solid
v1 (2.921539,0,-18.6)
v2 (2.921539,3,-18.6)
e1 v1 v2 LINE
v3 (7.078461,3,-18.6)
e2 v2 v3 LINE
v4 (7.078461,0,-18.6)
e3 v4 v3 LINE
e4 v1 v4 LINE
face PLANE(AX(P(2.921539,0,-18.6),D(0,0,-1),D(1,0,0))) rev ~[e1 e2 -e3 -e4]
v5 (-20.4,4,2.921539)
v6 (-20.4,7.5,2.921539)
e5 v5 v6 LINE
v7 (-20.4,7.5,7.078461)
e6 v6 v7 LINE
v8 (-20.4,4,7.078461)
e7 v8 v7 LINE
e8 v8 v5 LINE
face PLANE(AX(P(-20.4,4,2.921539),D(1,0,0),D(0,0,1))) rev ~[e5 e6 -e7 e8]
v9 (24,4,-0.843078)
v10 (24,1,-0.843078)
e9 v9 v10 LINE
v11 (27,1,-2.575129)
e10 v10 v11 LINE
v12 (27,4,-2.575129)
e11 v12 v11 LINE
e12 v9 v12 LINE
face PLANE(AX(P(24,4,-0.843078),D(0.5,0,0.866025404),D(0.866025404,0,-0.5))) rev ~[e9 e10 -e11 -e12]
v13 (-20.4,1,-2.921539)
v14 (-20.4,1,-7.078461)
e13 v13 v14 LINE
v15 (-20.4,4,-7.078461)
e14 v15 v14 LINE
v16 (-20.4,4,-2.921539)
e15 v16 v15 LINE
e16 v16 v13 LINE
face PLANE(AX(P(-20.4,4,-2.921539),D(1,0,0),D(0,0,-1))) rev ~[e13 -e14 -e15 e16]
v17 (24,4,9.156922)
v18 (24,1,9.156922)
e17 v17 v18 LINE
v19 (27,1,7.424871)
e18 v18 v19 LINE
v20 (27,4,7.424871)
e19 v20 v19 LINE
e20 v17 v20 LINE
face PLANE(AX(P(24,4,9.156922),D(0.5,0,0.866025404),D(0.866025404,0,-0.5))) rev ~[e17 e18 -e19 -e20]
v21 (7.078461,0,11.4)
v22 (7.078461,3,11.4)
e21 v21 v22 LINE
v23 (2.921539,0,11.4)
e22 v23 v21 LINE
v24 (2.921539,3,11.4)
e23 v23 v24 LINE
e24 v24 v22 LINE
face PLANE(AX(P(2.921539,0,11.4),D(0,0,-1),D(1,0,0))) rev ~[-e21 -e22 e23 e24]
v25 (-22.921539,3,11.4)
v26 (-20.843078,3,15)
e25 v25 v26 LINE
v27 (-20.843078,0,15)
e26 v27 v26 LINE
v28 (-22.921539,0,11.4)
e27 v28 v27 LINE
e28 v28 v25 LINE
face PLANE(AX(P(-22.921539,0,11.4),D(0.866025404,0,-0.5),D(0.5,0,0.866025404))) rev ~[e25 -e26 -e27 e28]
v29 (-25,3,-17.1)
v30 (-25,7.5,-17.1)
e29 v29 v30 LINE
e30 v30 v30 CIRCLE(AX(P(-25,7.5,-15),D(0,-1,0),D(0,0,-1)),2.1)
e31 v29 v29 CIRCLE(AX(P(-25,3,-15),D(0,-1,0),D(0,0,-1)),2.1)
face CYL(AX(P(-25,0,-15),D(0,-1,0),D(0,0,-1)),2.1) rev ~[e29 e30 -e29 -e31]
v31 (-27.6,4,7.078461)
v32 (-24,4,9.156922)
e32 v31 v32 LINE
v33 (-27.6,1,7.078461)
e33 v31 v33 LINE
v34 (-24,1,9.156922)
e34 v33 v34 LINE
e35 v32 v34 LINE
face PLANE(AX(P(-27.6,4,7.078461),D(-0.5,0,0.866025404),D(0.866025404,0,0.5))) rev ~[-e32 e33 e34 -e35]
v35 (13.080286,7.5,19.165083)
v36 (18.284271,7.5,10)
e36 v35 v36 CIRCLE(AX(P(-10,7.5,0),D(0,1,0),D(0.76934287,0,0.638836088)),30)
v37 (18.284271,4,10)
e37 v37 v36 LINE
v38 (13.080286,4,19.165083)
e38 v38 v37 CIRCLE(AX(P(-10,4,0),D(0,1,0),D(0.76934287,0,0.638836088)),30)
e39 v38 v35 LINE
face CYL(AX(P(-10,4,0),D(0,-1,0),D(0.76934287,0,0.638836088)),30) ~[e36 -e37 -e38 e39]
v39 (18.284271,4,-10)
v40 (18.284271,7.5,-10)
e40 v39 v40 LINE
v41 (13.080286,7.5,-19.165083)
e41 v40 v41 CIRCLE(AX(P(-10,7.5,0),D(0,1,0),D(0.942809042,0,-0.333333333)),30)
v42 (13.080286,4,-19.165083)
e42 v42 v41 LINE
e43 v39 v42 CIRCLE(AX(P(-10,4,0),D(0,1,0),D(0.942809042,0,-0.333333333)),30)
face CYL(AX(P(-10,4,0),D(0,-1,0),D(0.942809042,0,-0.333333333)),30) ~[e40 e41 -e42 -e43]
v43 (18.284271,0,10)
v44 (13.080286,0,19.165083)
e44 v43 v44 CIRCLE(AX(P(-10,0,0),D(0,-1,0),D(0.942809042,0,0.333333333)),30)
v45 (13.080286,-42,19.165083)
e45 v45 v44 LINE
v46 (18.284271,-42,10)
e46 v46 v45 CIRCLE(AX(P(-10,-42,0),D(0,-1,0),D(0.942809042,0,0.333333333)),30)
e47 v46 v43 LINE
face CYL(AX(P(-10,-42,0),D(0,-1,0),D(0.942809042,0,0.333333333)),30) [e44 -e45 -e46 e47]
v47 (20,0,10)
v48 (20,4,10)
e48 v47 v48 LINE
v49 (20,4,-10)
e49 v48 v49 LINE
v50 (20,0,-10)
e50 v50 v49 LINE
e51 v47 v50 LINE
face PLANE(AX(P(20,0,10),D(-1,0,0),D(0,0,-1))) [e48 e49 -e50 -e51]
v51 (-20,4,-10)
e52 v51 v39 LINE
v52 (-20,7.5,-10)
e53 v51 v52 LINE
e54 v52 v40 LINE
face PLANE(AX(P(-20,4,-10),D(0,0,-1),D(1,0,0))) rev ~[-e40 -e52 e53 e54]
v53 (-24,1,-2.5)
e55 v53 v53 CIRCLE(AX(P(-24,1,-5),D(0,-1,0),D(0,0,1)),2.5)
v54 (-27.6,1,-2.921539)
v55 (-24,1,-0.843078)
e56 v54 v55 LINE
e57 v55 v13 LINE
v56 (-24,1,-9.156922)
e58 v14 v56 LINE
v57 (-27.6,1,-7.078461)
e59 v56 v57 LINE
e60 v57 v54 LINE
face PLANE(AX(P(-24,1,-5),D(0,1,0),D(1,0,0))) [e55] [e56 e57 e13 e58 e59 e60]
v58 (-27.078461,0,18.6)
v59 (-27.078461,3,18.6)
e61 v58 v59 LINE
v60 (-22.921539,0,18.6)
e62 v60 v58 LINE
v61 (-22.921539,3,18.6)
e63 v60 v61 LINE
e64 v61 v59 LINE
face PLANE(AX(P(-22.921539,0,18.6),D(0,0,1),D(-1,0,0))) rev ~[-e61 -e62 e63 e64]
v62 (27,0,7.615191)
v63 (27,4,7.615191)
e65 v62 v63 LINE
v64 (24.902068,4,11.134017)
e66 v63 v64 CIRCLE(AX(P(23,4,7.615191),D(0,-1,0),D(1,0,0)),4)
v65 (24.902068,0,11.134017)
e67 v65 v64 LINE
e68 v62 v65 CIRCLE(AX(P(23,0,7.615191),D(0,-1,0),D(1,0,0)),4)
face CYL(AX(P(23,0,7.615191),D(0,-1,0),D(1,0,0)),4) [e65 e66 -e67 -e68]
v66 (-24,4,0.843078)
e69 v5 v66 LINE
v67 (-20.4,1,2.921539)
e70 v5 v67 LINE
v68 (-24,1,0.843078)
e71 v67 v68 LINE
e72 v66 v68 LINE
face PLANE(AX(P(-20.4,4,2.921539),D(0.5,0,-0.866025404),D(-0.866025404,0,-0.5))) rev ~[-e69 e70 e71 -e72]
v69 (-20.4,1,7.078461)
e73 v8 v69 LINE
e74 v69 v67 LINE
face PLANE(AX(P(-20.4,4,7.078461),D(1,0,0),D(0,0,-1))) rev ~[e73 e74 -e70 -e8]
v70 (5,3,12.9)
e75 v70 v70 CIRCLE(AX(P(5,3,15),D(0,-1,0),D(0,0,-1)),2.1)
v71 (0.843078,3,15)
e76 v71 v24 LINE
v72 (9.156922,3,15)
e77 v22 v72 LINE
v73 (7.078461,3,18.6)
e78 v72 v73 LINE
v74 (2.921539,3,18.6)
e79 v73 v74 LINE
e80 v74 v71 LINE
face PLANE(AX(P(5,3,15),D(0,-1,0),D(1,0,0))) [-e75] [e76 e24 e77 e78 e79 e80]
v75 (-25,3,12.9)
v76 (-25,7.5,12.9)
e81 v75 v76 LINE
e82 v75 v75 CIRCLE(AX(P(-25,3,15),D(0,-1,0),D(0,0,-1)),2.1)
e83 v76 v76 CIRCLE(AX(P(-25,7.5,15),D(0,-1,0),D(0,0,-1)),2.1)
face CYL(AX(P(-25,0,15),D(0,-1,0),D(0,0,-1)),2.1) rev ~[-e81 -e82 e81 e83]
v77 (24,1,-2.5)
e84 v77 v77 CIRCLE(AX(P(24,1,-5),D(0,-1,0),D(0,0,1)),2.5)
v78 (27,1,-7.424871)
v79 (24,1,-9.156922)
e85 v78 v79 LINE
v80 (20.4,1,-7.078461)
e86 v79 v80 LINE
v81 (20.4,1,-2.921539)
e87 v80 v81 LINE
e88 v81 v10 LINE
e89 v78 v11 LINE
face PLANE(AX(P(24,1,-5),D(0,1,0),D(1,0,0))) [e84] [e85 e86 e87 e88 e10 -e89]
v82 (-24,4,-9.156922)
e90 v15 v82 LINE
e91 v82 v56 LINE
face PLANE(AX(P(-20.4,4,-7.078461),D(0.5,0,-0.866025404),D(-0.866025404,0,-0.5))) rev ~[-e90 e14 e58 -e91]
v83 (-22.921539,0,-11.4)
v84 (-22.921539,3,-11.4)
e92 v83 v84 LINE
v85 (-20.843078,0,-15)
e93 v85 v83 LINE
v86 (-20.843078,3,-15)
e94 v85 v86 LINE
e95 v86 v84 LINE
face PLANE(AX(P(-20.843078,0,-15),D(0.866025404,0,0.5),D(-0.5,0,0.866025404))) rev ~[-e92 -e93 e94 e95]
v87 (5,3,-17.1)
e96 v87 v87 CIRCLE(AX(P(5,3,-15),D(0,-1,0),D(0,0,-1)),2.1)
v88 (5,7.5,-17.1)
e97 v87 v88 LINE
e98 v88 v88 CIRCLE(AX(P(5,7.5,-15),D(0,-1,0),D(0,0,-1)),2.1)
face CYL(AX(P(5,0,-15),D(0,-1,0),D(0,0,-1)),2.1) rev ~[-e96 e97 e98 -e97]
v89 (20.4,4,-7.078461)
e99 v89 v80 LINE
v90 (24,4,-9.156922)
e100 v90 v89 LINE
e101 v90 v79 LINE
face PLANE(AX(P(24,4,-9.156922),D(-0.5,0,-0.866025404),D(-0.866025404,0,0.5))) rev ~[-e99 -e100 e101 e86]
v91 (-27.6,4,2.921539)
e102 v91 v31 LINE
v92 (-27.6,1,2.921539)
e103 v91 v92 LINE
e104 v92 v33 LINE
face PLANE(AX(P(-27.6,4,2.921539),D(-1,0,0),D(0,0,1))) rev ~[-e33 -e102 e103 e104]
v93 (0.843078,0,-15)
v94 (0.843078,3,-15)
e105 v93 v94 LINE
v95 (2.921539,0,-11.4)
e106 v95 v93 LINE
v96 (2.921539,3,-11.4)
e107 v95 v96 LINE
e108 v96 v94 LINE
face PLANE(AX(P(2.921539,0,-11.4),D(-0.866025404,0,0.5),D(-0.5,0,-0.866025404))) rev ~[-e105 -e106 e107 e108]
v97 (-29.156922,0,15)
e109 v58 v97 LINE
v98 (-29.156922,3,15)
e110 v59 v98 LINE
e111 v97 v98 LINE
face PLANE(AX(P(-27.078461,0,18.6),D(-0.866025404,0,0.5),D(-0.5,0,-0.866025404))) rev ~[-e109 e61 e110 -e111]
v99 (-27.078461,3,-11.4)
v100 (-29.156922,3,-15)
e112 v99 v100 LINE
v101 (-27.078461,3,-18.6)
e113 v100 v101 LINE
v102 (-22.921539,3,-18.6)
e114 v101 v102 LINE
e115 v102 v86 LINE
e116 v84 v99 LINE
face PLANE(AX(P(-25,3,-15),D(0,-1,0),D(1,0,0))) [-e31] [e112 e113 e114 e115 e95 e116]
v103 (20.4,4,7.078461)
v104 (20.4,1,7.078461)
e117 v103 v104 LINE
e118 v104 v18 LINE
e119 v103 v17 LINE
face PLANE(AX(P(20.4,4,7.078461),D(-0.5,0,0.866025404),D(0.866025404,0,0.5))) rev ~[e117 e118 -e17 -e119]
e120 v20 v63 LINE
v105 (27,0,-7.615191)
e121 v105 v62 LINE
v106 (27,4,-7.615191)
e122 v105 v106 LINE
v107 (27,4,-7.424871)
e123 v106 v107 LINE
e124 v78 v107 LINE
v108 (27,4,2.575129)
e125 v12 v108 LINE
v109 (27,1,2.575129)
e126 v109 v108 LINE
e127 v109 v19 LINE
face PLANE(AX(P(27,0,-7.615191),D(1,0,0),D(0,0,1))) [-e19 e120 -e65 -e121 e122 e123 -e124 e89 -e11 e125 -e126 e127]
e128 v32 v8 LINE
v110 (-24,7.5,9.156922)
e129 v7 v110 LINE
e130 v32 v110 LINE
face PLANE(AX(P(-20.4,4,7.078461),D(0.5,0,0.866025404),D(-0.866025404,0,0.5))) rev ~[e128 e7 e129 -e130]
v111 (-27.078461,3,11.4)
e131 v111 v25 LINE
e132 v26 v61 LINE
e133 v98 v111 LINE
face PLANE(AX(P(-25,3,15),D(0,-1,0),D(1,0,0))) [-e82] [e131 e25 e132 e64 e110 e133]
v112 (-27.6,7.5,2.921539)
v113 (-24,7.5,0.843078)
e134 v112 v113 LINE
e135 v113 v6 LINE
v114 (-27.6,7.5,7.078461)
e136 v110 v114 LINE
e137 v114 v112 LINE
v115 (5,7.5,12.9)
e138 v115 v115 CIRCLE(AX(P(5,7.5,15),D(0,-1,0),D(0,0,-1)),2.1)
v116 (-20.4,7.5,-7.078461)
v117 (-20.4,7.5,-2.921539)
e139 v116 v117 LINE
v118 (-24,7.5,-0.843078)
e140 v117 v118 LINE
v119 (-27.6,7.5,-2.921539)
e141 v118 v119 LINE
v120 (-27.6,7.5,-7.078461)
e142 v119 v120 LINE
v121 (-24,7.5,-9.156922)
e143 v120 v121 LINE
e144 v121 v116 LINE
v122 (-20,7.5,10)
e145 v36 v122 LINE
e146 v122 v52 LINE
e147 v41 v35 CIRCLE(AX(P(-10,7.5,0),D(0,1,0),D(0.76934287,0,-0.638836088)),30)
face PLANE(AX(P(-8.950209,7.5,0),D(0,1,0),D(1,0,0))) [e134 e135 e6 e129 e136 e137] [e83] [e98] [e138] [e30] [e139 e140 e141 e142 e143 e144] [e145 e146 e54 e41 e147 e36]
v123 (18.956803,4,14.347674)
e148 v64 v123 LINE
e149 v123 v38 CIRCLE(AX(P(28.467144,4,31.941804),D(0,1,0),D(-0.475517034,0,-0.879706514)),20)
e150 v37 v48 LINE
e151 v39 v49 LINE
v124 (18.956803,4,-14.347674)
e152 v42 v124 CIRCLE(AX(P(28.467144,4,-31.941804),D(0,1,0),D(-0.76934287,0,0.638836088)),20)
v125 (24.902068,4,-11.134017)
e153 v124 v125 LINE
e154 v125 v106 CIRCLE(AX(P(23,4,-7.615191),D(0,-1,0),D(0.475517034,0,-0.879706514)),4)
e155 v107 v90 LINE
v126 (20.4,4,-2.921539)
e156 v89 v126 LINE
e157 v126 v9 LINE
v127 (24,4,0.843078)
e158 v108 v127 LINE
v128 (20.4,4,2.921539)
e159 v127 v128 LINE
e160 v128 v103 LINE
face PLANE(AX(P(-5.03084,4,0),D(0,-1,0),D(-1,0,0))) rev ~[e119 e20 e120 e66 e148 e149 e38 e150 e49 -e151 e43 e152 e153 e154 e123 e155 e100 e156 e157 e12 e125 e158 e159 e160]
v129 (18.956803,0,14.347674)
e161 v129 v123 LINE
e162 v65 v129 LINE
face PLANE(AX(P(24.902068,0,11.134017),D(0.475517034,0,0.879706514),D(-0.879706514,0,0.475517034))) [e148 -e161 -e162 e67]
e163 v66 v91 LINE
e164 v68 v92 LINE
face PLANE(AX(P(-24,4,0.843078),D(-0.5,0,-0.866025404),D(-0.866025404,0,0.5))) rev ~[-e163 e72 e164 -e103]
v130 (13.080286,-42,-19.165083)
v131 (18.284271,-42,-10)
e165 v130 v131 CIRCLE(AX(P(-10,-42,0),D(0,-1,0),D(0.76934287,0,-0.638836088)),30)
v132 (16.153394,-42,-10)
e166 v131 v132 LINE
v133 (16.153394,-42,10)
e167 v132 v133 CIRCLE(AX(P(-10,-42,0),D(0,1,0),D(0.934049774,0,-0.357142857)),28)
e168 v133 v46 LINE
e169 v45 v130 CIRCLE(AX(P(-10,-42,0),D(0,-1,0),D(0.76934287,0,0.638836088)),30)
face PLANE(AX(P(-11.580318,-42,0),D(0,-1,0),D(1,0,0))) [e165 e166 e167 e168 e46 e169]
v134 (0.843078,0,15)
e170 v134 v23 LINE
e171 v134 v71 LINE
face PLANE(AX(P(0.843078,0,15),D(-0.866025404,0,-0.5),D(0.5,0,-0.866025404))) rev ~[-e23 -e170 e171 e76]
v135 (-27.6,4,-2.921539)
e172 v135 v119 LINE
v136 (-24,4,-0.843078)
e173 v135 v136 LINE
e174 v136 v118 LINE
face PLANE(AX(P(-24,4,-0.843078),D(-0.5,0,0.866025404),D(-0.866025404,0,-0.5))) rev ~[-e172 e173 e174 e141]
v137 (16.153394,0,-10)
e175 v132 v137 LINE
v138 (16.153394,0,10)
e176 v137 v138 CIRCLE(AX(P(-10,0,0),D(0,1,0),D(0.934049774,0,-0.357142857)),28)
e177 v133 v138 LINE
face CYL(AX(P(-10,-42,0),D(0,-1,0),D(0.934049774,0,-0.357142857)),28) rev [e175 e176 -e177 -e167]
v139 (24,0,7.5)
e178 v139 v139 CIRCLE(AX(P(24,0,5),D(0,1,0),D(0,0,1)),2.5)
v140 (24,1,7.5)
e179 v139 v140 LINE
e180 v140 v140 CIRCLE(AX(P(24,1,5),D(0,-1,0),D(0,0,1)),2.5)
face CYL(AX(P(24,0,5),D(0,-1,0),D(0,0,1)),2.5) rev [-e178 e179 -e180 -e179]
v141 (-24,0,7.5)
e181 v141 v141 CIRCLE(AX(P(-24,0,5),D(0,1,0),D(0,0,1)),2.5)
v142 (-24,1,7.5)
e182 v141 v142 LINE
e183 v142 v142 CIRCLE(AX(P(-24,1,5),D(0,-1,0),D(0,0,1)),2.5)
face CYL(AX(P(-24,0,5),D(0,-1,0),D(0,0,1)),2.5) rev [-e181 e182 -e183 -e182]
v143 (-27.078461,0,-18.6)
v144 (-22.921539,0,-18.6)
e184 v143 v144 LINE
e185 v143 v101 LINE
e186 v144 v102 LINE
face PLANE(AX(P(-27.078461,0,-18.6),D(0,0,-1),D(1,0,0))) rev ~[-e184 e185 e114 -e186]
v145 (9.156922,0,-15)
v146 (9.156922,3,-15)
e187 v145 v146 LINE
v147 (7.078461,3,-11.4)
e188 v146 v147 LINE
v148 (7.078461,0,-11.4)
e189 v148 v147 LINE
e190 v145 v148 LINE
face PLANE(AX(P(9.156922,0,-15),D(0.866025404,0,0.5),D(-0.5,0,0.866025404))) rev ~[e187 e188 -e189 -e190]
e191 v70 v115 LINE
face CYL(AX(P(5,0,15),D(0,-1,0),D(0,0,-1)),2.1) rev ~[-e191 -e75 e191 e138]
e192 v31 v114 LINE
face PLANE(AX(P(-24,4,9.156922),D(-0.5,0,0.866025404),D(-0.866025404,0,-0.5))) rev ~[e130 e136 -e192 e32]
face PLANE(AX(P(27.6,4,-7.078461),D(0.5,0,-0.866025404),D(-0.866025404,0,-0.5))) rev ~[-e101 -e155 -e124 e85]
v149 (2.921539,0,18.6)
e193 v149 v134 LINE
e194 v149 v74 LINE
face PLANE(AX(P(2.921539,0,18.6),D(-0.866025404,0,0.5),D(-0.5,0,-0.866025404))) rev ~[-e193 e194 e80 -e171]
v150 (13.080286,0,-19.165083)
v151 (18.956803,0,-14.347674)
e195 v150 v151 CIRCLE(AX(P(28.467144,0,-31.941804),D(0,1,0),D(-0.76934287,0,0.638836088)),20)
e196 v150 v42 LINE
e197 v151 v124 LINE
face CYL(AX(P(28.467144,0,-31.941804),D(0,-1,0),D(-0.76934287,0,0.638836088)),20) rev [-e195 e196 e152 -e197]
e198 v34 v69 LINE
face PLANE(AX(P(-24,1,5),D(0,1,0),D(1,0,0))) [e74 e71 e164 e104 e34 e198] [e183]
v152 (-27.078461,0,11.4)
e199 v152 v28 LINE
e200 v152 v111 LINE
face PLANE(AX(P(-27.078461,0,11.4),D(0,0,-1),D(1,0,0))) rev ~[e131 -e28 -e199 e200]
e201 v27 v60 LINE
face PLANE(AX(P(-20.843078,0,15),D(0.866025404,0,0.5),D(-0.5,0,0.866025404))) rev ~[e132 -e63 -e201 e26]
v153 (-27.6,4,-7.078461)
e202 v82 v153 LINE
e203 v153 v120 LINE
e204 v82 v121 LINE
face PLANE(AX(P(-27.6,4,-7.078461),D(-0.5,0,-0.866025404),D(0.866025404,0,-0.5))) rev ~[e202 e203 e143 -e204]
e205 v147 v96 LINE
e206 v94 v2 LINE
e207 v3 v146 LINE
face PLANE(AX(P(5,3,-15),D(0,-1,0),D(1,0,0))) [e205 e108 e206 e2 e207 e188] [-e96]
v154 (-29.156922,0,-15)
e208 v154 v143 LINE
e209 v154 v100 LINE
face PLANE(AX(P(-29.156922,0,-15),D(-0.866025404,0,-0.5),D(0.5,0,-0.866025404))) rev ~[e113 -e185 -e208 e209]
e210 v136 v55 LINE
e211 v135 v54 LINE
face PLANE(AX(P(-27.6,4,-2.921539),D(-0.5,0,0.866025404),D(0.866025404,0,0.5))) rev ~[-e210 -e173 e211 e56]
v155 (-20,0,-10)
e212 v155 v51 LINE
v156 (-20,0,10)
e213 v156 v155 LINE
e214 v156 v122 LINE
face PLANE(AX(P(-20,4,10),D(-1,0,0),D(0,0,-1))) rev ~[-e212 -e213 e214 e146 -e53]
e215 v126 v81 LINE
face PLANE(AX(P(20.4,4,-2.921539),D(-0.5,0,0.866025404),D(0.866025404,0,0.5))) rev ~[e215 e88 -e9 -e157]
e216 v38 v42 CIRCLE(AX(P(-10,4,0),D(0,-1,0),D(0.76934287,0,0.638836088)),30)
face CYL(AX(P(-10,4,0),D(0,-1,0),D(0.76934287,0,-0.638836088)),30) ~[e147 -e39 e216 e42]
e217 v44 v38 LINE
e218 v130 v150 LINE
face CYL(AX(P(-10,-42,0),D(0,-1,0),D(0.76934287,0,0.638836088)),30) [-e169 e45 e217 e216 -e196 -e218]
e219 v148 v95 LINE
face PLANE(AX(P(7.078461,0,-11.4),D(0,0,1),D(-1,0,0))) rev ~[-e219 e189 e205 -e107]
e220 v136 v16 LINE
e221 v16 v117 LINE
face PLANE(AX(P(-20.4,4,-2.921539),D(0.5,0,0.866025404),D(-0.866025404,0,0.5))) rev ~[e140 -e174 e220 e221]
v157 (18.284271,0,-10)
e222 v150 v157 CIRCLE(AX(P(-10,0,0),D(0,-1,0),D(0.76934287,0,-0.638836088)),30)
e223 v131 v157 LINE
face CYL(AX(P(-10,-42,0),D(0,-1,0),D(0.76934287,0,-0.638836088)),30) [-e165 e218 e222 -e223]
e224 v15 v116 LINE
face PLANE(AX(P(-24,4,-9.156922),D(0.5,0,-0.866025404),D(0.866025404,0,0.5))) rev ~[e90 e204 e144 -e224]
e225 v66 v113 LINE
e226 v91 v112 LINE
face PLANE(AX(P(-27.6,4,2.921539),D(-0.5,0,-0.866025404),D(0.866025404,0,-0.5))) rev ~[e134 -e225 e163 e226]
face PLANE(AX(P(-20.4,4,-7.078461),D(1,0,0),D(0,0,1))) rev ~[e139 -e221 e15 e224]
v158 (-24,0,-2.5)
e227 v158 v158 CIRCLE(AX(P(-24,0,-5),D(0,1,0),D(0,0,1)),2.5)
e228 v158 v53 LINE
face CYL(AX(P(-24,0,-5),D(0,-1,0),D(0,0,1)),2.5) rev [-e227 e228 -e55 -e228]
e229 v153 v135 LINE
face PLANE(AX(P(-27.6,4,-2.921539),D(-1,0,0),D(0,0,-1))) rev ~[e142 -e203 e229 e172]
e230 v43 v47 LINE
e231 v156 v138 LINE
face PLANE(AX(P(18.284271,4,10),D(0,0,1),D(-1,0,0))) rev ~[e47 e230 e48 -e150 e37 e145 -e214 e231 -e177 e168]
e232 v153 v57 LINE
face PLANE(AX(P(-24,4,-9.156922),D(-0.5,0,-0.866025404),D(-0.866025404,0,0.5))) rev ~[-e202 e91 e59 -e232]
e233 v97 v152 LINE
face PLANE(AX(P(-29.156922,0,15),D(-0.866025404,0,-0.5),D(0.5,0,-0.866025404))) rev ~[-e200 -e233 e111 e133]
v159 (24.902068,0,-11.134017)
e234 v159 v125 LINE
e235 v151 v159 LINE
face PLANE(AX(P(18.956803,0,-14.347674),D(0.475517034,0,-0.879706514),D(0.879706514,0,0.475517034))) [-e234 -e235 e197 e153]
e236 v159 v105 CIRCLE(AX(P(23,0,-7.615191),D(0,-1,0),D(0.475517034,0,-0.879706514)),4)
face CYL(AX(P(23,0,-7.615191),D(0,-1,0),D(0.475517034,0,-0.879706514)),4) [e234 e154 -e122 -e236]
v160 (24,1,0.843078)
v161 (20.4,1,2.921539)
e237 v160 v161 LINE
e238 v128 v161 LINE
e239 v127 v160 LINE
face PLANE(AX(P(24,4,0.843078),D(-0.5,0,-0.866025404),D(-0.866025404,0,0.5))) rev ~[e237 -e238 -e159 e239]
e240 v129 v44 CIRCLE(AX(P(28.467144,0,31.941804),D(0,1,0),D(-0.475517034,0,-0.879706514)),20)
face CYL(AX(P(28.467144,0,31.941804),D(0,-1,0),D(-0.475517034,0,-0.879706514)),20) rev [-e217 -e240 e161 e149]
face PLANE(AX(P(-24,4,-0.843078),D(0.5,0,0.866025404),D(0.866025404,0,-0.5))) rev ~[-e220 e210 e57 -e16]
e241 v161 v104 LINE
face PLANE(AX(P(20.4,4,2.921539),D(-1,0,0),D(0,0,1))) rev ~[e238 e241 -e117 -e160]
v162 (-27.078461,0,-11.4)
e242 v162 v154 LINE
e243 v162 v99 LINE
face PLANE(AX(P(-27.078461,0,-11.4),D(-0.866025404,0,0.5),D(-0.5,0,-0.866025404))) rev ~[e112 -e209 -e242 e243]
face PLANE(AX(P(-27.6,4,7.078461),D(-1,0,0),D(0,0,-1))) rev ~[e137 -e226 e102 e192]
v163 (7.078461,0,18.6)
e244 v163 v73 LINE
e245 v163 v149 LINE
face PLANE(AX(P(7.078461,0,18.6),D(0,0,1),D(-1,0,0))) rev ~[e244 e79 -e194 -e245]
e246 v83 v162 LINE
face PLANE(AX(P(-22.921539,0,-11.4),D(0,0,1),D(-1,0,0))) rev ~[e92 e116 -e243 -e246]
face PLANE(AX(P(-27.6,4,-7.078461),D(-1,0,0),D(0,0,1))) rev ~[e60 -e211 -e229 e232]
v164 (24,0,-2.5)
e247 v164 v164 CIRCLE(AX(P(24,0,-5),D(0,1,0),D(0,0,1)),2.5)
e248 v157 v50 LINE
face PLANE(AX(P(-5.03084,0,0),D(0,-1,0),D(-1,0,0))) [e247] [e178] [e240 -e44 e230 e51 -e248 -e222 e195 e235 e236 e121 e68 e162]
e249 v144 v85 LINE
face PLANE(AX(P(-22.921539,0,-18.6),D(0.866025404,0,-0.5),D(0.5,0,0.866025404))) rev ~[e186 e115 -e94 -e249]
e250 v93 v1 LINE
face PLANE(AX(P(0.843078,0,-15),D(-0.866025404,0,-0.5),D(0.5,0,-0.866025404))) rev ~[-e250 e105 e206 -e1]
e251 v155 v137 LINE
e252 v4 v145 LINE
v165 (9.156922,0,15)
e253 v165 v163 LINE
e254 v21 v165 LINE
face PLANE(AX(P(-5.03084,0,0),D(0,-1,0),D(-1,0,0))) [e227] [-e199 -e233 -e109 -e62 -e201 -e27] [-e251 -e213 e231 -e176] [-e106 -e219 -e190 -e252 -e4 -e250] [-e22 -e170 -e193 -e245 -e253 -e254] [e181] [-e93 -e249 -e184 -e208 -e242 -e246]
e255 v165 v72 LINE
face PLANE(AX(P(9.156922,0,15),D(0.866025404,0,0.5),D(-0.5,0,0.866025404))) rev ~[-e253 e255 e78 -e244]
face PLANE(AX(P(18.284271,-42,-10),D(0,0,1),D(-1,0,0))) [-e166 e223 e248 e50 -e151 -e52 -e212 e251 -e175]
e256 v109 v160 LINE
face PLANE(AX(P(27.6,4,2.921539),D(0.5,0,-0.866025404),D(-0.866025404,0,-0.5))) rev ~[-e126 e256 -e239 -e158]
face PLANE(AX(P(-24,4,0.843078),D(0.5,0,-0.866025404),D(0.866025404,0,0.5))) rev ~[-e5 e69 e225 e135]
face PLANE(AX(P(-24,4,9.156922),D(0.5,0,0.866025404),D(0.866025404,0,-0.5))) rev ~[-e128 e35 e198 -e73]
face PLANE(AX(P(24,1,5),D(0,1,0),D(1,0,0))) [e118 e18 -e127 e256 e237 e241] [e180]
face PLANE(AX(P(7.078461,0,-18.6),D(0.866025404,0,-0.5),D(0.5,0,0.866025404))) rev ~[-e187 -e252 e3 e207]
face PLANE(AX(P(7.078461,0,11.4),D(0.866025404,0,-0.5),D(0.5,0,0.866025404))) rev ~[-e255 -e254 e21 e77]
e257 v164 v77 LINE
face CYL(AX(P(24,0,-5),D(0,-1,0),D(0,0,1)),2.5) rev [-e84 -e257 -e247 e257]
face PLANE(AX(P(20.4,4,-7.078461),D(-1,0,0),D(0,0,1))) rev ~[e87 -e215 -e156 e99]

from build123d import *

# Parameters (mm, degrees)
SKETCH_1_R          = 2.5
SKETCH_1_W          = 40
SKETCH_1_H          = 20
EXTRUDE_3_DEPTH     = 4
EXTRUDE_START       = 42
EXTRUDE_16_DEPTH    = 42
CUT_EXTRUDE_1_DEPTH = 3
EXTRUDE_4_DEPTH     = 3.5
CUT_EXTRUDE_2_DEPTH = 3
SKETCH_6_R          = 2.1
CUT_EXTRUDE_3_DEPTH = 66.299310869


with BuildPart() as part:
    # 草图1 → 凸台-拉伸3 (new body)
    with BuildSketch(Plane(origin=(0, 0, 0), x_dir=(1, 0, 0), z_dir=(0, 1, 0))):
        with BuildLine():
            Line((18.956802834, 14.347674144), (24.902068137, 11.134017223))
            ThreePointArc((24.902068137, 11.134017223), (26.435714813, 9.663571926), (27, 7.615191169))
            Line((27, 7.615191169), (27, -7.615191169))
            ThreePointArc((27, -7.615191169), (26.435714813, -9.663571926), (24.902068137, -11.134017223))
            Line((24.902068137, -11.134017223), (18.956802834, -14.347674144))
            ThreePointArc((18.956802834, -14.347674144), (15.787653215, -16.474725649), (13.080286113, -19.165082649))
            ThreePointArc((13.080286113, -19.165082649), (-40, 0), (13.080286113, 19.165082649))
            ThreePointArc((13.080286113, 19.165082649), (15.787653215, 16.474725649), (18.956802834, 14.347674144))
        make_face()
        with Locations(Location((24, 5, 0), (0, 0, 270))):
            Circle(SKETCH_1_R, mode=Mode.SUBTRACT)
        with Locations(Location((24, -5, 0), (0, 0, 270))):
            Circle(SKETCH_1_R, mode=Mode.SUBTRACT)
        with Locations(Location((-24, 5, 0), (0, 0, 270))):
            Circle(SKETCH_1_R, mode=Mode.SUBTRACT)
        with Locations(Location((-24, -5, 0), (0, 0, 270))):
            Circle(SKETCH_1_R, mode=Mode.SUBTRACT)
        Rectangle(SKETCH_1_W, SKETCH_1_H, mode=Mode.SUBTRACT)
    extrude(amount=EXTRUDE_3_DEPTH)

    # 草图10 → 凸台-拉伸16 (add)
    with BuildSketch(Plane.XZ.offset(EXTRUDE_START)):
        with BuildLine():
            Line((16.153393661, 10), (18.284271247, 10))
            ThreePointArc((18.284271247, 10), (16.087911438, 14.812861871), (13.080286113, 19.165082649))
            ThreePointArc((13.080286113, 19.165082649), (-40, 0), (13.080286113, -19.165082649))
            ThreePointArc((13.080286113, -19.165082649), (16.087911438, -14.812861871), (18.284271247, -10))
            Line((18.284271247, -10), (16.153393661, -10))
            ThreePointArc((16.153393661, -10), (-38, 0), (16.153393661, 10))
        make_face()
    extrude(amount=-EXTRUDE_16_DEPTH)

    # 草图2 → 切除-拉伸1 (cut)
    with BuildSketch(Plane(origin=(0, 4, 0), x_dir=(1, 0, 0), z_dir=(0, 1, 0))):
        Polygon((24, 0.843078062), (27.6, 2.921539031), (27.6, 7.078460969), (24, 9.156921938), (20.4, 7.078460969), (20.4, 2.921539031), align=None)
        Polygon((-24, 0.843078062), (-20.4, 2.921539031), (-20.4, 7.078460969), (-24, 9.156921938), (-27.6, 7.078460969), (-27.6, 2.921539031), align=None)
        Polygon((24, -9.156921938), (27.6, -7.078460969), (27.6, -2.921539031), (24, -0.843078062), (20.4, -2.921539031), (20.4, -7.078460969), align=None)
        Polygon((-24, -9.156921938), (-20.4, -7.078460969), (-20.4, -2.921539031), (-24, -0.843078062), (-27.6, -2.921539031), (-27.6, -7.078460969), align=None)
    extrude(amount=-CUT_EXTRUDE_1_DEPTH, mode=Mode.SUBTRACT)

    # 草图3 → 凸台-拉伸4 (add)
    with BuildSketch(Plane(origin=(0, 4, 0), x_dir=(1, 0, 0), z_dir=(0, 1, 0))):
        with BuildLine():
            Line((18.284271247, -10), (-20, -10))
            Line((-20, -10), (-20, 10))
            Line((-20, 10), (18.284271247, 10))
            ThreePointArc((18.284271247, 10), (16.087911438, 14.812861871), (13.080286113, 19.165082649))
            ThreePointArc((13.080286113, 19.165082649), (-40, 0), (13.080286113, -19.165082649))
            ThreePointArc((13.080286113, -19.165082649), (16.087911438, -14.812861871), (18.284271247, -10))
        make_face()
        Polygon((-20.4, -7.078460969), (-24, -9.156921938), (-27.6, -7.078460969), (-27.6, -2.921539031), (-24, -0.843078062), (-20.4, -2.921539031), align=None, mode=Mode.SUBTRACT)
        Polygon((-20.4, 2.921539031), (-24, 0.843078062), (-27.6, 2.921539031), (-27.6, 7.078460969), (-24, 9.156921938), (-20.4, 7.078460969), align=None, mode=Mode.SUBTRACT)
    extrude(amount=EXTRUDE_4_DEPTH)

    # 草图4 → 切除-拉伸2 (cut)
    with BuildSketch(Plane.XZ):
        Polygon((9.156921938, 15), (7.078460969, 18.6), (2.921539031, 18.6), (0.843078062, 15), (2.921539031, 11.4), (7.078460969, 11.4), align=None)
        Polygon((-20.843078062, 15), (-22.921539031, 18.6), (-27.078460969, 18.6), (-29.156921938, 15), (-27.078460969, 11.4), (-22.921539031, 11.4), align=None)
        Polygon((9.156921938, -15), (7.078460969, -11.4), (2.921539031, -11.4), (0.843078062, -15), (2.921539031, -18.6), (7.078460969, -18.6), align=None)
        Polygon((-20.843078062, -15), (-22.921539031, -11.4), (-27.078460969, -11.4), (-29.156921938, -15), (-27.078460969, -18.6), (-22.921539031, -18.6), align=None)
    extrude(amount=-CUT_EXTRUDE_2_DEPTH, mode=Mode.SUBTRACT)

    # 草图6 → 切除-拉伸3 (cut, through all)
    with BuildSketch(Plane.XZ):
        with Locations(Location((-25, 15, 0), (0, 0, 270))):
            Circle(SKETCH_6_R)
        with Locations(Location((5, 15, 0), (0, 0, 270))):
            Circle(SKETCH_6_R)
        with Locations(Location((5, -15, 0), (0, 0, 270))):
            Circle(SKETCH_6_R)
        with Locations(Location((-25, -15, 0), (0, 0, 270))):
            Circle(SKETCH_6_R)
    extrude(amount=-CUT_EXTRUDE_3_DEPTH, mode=Mode.SUBTRACT)


solid = part.part
